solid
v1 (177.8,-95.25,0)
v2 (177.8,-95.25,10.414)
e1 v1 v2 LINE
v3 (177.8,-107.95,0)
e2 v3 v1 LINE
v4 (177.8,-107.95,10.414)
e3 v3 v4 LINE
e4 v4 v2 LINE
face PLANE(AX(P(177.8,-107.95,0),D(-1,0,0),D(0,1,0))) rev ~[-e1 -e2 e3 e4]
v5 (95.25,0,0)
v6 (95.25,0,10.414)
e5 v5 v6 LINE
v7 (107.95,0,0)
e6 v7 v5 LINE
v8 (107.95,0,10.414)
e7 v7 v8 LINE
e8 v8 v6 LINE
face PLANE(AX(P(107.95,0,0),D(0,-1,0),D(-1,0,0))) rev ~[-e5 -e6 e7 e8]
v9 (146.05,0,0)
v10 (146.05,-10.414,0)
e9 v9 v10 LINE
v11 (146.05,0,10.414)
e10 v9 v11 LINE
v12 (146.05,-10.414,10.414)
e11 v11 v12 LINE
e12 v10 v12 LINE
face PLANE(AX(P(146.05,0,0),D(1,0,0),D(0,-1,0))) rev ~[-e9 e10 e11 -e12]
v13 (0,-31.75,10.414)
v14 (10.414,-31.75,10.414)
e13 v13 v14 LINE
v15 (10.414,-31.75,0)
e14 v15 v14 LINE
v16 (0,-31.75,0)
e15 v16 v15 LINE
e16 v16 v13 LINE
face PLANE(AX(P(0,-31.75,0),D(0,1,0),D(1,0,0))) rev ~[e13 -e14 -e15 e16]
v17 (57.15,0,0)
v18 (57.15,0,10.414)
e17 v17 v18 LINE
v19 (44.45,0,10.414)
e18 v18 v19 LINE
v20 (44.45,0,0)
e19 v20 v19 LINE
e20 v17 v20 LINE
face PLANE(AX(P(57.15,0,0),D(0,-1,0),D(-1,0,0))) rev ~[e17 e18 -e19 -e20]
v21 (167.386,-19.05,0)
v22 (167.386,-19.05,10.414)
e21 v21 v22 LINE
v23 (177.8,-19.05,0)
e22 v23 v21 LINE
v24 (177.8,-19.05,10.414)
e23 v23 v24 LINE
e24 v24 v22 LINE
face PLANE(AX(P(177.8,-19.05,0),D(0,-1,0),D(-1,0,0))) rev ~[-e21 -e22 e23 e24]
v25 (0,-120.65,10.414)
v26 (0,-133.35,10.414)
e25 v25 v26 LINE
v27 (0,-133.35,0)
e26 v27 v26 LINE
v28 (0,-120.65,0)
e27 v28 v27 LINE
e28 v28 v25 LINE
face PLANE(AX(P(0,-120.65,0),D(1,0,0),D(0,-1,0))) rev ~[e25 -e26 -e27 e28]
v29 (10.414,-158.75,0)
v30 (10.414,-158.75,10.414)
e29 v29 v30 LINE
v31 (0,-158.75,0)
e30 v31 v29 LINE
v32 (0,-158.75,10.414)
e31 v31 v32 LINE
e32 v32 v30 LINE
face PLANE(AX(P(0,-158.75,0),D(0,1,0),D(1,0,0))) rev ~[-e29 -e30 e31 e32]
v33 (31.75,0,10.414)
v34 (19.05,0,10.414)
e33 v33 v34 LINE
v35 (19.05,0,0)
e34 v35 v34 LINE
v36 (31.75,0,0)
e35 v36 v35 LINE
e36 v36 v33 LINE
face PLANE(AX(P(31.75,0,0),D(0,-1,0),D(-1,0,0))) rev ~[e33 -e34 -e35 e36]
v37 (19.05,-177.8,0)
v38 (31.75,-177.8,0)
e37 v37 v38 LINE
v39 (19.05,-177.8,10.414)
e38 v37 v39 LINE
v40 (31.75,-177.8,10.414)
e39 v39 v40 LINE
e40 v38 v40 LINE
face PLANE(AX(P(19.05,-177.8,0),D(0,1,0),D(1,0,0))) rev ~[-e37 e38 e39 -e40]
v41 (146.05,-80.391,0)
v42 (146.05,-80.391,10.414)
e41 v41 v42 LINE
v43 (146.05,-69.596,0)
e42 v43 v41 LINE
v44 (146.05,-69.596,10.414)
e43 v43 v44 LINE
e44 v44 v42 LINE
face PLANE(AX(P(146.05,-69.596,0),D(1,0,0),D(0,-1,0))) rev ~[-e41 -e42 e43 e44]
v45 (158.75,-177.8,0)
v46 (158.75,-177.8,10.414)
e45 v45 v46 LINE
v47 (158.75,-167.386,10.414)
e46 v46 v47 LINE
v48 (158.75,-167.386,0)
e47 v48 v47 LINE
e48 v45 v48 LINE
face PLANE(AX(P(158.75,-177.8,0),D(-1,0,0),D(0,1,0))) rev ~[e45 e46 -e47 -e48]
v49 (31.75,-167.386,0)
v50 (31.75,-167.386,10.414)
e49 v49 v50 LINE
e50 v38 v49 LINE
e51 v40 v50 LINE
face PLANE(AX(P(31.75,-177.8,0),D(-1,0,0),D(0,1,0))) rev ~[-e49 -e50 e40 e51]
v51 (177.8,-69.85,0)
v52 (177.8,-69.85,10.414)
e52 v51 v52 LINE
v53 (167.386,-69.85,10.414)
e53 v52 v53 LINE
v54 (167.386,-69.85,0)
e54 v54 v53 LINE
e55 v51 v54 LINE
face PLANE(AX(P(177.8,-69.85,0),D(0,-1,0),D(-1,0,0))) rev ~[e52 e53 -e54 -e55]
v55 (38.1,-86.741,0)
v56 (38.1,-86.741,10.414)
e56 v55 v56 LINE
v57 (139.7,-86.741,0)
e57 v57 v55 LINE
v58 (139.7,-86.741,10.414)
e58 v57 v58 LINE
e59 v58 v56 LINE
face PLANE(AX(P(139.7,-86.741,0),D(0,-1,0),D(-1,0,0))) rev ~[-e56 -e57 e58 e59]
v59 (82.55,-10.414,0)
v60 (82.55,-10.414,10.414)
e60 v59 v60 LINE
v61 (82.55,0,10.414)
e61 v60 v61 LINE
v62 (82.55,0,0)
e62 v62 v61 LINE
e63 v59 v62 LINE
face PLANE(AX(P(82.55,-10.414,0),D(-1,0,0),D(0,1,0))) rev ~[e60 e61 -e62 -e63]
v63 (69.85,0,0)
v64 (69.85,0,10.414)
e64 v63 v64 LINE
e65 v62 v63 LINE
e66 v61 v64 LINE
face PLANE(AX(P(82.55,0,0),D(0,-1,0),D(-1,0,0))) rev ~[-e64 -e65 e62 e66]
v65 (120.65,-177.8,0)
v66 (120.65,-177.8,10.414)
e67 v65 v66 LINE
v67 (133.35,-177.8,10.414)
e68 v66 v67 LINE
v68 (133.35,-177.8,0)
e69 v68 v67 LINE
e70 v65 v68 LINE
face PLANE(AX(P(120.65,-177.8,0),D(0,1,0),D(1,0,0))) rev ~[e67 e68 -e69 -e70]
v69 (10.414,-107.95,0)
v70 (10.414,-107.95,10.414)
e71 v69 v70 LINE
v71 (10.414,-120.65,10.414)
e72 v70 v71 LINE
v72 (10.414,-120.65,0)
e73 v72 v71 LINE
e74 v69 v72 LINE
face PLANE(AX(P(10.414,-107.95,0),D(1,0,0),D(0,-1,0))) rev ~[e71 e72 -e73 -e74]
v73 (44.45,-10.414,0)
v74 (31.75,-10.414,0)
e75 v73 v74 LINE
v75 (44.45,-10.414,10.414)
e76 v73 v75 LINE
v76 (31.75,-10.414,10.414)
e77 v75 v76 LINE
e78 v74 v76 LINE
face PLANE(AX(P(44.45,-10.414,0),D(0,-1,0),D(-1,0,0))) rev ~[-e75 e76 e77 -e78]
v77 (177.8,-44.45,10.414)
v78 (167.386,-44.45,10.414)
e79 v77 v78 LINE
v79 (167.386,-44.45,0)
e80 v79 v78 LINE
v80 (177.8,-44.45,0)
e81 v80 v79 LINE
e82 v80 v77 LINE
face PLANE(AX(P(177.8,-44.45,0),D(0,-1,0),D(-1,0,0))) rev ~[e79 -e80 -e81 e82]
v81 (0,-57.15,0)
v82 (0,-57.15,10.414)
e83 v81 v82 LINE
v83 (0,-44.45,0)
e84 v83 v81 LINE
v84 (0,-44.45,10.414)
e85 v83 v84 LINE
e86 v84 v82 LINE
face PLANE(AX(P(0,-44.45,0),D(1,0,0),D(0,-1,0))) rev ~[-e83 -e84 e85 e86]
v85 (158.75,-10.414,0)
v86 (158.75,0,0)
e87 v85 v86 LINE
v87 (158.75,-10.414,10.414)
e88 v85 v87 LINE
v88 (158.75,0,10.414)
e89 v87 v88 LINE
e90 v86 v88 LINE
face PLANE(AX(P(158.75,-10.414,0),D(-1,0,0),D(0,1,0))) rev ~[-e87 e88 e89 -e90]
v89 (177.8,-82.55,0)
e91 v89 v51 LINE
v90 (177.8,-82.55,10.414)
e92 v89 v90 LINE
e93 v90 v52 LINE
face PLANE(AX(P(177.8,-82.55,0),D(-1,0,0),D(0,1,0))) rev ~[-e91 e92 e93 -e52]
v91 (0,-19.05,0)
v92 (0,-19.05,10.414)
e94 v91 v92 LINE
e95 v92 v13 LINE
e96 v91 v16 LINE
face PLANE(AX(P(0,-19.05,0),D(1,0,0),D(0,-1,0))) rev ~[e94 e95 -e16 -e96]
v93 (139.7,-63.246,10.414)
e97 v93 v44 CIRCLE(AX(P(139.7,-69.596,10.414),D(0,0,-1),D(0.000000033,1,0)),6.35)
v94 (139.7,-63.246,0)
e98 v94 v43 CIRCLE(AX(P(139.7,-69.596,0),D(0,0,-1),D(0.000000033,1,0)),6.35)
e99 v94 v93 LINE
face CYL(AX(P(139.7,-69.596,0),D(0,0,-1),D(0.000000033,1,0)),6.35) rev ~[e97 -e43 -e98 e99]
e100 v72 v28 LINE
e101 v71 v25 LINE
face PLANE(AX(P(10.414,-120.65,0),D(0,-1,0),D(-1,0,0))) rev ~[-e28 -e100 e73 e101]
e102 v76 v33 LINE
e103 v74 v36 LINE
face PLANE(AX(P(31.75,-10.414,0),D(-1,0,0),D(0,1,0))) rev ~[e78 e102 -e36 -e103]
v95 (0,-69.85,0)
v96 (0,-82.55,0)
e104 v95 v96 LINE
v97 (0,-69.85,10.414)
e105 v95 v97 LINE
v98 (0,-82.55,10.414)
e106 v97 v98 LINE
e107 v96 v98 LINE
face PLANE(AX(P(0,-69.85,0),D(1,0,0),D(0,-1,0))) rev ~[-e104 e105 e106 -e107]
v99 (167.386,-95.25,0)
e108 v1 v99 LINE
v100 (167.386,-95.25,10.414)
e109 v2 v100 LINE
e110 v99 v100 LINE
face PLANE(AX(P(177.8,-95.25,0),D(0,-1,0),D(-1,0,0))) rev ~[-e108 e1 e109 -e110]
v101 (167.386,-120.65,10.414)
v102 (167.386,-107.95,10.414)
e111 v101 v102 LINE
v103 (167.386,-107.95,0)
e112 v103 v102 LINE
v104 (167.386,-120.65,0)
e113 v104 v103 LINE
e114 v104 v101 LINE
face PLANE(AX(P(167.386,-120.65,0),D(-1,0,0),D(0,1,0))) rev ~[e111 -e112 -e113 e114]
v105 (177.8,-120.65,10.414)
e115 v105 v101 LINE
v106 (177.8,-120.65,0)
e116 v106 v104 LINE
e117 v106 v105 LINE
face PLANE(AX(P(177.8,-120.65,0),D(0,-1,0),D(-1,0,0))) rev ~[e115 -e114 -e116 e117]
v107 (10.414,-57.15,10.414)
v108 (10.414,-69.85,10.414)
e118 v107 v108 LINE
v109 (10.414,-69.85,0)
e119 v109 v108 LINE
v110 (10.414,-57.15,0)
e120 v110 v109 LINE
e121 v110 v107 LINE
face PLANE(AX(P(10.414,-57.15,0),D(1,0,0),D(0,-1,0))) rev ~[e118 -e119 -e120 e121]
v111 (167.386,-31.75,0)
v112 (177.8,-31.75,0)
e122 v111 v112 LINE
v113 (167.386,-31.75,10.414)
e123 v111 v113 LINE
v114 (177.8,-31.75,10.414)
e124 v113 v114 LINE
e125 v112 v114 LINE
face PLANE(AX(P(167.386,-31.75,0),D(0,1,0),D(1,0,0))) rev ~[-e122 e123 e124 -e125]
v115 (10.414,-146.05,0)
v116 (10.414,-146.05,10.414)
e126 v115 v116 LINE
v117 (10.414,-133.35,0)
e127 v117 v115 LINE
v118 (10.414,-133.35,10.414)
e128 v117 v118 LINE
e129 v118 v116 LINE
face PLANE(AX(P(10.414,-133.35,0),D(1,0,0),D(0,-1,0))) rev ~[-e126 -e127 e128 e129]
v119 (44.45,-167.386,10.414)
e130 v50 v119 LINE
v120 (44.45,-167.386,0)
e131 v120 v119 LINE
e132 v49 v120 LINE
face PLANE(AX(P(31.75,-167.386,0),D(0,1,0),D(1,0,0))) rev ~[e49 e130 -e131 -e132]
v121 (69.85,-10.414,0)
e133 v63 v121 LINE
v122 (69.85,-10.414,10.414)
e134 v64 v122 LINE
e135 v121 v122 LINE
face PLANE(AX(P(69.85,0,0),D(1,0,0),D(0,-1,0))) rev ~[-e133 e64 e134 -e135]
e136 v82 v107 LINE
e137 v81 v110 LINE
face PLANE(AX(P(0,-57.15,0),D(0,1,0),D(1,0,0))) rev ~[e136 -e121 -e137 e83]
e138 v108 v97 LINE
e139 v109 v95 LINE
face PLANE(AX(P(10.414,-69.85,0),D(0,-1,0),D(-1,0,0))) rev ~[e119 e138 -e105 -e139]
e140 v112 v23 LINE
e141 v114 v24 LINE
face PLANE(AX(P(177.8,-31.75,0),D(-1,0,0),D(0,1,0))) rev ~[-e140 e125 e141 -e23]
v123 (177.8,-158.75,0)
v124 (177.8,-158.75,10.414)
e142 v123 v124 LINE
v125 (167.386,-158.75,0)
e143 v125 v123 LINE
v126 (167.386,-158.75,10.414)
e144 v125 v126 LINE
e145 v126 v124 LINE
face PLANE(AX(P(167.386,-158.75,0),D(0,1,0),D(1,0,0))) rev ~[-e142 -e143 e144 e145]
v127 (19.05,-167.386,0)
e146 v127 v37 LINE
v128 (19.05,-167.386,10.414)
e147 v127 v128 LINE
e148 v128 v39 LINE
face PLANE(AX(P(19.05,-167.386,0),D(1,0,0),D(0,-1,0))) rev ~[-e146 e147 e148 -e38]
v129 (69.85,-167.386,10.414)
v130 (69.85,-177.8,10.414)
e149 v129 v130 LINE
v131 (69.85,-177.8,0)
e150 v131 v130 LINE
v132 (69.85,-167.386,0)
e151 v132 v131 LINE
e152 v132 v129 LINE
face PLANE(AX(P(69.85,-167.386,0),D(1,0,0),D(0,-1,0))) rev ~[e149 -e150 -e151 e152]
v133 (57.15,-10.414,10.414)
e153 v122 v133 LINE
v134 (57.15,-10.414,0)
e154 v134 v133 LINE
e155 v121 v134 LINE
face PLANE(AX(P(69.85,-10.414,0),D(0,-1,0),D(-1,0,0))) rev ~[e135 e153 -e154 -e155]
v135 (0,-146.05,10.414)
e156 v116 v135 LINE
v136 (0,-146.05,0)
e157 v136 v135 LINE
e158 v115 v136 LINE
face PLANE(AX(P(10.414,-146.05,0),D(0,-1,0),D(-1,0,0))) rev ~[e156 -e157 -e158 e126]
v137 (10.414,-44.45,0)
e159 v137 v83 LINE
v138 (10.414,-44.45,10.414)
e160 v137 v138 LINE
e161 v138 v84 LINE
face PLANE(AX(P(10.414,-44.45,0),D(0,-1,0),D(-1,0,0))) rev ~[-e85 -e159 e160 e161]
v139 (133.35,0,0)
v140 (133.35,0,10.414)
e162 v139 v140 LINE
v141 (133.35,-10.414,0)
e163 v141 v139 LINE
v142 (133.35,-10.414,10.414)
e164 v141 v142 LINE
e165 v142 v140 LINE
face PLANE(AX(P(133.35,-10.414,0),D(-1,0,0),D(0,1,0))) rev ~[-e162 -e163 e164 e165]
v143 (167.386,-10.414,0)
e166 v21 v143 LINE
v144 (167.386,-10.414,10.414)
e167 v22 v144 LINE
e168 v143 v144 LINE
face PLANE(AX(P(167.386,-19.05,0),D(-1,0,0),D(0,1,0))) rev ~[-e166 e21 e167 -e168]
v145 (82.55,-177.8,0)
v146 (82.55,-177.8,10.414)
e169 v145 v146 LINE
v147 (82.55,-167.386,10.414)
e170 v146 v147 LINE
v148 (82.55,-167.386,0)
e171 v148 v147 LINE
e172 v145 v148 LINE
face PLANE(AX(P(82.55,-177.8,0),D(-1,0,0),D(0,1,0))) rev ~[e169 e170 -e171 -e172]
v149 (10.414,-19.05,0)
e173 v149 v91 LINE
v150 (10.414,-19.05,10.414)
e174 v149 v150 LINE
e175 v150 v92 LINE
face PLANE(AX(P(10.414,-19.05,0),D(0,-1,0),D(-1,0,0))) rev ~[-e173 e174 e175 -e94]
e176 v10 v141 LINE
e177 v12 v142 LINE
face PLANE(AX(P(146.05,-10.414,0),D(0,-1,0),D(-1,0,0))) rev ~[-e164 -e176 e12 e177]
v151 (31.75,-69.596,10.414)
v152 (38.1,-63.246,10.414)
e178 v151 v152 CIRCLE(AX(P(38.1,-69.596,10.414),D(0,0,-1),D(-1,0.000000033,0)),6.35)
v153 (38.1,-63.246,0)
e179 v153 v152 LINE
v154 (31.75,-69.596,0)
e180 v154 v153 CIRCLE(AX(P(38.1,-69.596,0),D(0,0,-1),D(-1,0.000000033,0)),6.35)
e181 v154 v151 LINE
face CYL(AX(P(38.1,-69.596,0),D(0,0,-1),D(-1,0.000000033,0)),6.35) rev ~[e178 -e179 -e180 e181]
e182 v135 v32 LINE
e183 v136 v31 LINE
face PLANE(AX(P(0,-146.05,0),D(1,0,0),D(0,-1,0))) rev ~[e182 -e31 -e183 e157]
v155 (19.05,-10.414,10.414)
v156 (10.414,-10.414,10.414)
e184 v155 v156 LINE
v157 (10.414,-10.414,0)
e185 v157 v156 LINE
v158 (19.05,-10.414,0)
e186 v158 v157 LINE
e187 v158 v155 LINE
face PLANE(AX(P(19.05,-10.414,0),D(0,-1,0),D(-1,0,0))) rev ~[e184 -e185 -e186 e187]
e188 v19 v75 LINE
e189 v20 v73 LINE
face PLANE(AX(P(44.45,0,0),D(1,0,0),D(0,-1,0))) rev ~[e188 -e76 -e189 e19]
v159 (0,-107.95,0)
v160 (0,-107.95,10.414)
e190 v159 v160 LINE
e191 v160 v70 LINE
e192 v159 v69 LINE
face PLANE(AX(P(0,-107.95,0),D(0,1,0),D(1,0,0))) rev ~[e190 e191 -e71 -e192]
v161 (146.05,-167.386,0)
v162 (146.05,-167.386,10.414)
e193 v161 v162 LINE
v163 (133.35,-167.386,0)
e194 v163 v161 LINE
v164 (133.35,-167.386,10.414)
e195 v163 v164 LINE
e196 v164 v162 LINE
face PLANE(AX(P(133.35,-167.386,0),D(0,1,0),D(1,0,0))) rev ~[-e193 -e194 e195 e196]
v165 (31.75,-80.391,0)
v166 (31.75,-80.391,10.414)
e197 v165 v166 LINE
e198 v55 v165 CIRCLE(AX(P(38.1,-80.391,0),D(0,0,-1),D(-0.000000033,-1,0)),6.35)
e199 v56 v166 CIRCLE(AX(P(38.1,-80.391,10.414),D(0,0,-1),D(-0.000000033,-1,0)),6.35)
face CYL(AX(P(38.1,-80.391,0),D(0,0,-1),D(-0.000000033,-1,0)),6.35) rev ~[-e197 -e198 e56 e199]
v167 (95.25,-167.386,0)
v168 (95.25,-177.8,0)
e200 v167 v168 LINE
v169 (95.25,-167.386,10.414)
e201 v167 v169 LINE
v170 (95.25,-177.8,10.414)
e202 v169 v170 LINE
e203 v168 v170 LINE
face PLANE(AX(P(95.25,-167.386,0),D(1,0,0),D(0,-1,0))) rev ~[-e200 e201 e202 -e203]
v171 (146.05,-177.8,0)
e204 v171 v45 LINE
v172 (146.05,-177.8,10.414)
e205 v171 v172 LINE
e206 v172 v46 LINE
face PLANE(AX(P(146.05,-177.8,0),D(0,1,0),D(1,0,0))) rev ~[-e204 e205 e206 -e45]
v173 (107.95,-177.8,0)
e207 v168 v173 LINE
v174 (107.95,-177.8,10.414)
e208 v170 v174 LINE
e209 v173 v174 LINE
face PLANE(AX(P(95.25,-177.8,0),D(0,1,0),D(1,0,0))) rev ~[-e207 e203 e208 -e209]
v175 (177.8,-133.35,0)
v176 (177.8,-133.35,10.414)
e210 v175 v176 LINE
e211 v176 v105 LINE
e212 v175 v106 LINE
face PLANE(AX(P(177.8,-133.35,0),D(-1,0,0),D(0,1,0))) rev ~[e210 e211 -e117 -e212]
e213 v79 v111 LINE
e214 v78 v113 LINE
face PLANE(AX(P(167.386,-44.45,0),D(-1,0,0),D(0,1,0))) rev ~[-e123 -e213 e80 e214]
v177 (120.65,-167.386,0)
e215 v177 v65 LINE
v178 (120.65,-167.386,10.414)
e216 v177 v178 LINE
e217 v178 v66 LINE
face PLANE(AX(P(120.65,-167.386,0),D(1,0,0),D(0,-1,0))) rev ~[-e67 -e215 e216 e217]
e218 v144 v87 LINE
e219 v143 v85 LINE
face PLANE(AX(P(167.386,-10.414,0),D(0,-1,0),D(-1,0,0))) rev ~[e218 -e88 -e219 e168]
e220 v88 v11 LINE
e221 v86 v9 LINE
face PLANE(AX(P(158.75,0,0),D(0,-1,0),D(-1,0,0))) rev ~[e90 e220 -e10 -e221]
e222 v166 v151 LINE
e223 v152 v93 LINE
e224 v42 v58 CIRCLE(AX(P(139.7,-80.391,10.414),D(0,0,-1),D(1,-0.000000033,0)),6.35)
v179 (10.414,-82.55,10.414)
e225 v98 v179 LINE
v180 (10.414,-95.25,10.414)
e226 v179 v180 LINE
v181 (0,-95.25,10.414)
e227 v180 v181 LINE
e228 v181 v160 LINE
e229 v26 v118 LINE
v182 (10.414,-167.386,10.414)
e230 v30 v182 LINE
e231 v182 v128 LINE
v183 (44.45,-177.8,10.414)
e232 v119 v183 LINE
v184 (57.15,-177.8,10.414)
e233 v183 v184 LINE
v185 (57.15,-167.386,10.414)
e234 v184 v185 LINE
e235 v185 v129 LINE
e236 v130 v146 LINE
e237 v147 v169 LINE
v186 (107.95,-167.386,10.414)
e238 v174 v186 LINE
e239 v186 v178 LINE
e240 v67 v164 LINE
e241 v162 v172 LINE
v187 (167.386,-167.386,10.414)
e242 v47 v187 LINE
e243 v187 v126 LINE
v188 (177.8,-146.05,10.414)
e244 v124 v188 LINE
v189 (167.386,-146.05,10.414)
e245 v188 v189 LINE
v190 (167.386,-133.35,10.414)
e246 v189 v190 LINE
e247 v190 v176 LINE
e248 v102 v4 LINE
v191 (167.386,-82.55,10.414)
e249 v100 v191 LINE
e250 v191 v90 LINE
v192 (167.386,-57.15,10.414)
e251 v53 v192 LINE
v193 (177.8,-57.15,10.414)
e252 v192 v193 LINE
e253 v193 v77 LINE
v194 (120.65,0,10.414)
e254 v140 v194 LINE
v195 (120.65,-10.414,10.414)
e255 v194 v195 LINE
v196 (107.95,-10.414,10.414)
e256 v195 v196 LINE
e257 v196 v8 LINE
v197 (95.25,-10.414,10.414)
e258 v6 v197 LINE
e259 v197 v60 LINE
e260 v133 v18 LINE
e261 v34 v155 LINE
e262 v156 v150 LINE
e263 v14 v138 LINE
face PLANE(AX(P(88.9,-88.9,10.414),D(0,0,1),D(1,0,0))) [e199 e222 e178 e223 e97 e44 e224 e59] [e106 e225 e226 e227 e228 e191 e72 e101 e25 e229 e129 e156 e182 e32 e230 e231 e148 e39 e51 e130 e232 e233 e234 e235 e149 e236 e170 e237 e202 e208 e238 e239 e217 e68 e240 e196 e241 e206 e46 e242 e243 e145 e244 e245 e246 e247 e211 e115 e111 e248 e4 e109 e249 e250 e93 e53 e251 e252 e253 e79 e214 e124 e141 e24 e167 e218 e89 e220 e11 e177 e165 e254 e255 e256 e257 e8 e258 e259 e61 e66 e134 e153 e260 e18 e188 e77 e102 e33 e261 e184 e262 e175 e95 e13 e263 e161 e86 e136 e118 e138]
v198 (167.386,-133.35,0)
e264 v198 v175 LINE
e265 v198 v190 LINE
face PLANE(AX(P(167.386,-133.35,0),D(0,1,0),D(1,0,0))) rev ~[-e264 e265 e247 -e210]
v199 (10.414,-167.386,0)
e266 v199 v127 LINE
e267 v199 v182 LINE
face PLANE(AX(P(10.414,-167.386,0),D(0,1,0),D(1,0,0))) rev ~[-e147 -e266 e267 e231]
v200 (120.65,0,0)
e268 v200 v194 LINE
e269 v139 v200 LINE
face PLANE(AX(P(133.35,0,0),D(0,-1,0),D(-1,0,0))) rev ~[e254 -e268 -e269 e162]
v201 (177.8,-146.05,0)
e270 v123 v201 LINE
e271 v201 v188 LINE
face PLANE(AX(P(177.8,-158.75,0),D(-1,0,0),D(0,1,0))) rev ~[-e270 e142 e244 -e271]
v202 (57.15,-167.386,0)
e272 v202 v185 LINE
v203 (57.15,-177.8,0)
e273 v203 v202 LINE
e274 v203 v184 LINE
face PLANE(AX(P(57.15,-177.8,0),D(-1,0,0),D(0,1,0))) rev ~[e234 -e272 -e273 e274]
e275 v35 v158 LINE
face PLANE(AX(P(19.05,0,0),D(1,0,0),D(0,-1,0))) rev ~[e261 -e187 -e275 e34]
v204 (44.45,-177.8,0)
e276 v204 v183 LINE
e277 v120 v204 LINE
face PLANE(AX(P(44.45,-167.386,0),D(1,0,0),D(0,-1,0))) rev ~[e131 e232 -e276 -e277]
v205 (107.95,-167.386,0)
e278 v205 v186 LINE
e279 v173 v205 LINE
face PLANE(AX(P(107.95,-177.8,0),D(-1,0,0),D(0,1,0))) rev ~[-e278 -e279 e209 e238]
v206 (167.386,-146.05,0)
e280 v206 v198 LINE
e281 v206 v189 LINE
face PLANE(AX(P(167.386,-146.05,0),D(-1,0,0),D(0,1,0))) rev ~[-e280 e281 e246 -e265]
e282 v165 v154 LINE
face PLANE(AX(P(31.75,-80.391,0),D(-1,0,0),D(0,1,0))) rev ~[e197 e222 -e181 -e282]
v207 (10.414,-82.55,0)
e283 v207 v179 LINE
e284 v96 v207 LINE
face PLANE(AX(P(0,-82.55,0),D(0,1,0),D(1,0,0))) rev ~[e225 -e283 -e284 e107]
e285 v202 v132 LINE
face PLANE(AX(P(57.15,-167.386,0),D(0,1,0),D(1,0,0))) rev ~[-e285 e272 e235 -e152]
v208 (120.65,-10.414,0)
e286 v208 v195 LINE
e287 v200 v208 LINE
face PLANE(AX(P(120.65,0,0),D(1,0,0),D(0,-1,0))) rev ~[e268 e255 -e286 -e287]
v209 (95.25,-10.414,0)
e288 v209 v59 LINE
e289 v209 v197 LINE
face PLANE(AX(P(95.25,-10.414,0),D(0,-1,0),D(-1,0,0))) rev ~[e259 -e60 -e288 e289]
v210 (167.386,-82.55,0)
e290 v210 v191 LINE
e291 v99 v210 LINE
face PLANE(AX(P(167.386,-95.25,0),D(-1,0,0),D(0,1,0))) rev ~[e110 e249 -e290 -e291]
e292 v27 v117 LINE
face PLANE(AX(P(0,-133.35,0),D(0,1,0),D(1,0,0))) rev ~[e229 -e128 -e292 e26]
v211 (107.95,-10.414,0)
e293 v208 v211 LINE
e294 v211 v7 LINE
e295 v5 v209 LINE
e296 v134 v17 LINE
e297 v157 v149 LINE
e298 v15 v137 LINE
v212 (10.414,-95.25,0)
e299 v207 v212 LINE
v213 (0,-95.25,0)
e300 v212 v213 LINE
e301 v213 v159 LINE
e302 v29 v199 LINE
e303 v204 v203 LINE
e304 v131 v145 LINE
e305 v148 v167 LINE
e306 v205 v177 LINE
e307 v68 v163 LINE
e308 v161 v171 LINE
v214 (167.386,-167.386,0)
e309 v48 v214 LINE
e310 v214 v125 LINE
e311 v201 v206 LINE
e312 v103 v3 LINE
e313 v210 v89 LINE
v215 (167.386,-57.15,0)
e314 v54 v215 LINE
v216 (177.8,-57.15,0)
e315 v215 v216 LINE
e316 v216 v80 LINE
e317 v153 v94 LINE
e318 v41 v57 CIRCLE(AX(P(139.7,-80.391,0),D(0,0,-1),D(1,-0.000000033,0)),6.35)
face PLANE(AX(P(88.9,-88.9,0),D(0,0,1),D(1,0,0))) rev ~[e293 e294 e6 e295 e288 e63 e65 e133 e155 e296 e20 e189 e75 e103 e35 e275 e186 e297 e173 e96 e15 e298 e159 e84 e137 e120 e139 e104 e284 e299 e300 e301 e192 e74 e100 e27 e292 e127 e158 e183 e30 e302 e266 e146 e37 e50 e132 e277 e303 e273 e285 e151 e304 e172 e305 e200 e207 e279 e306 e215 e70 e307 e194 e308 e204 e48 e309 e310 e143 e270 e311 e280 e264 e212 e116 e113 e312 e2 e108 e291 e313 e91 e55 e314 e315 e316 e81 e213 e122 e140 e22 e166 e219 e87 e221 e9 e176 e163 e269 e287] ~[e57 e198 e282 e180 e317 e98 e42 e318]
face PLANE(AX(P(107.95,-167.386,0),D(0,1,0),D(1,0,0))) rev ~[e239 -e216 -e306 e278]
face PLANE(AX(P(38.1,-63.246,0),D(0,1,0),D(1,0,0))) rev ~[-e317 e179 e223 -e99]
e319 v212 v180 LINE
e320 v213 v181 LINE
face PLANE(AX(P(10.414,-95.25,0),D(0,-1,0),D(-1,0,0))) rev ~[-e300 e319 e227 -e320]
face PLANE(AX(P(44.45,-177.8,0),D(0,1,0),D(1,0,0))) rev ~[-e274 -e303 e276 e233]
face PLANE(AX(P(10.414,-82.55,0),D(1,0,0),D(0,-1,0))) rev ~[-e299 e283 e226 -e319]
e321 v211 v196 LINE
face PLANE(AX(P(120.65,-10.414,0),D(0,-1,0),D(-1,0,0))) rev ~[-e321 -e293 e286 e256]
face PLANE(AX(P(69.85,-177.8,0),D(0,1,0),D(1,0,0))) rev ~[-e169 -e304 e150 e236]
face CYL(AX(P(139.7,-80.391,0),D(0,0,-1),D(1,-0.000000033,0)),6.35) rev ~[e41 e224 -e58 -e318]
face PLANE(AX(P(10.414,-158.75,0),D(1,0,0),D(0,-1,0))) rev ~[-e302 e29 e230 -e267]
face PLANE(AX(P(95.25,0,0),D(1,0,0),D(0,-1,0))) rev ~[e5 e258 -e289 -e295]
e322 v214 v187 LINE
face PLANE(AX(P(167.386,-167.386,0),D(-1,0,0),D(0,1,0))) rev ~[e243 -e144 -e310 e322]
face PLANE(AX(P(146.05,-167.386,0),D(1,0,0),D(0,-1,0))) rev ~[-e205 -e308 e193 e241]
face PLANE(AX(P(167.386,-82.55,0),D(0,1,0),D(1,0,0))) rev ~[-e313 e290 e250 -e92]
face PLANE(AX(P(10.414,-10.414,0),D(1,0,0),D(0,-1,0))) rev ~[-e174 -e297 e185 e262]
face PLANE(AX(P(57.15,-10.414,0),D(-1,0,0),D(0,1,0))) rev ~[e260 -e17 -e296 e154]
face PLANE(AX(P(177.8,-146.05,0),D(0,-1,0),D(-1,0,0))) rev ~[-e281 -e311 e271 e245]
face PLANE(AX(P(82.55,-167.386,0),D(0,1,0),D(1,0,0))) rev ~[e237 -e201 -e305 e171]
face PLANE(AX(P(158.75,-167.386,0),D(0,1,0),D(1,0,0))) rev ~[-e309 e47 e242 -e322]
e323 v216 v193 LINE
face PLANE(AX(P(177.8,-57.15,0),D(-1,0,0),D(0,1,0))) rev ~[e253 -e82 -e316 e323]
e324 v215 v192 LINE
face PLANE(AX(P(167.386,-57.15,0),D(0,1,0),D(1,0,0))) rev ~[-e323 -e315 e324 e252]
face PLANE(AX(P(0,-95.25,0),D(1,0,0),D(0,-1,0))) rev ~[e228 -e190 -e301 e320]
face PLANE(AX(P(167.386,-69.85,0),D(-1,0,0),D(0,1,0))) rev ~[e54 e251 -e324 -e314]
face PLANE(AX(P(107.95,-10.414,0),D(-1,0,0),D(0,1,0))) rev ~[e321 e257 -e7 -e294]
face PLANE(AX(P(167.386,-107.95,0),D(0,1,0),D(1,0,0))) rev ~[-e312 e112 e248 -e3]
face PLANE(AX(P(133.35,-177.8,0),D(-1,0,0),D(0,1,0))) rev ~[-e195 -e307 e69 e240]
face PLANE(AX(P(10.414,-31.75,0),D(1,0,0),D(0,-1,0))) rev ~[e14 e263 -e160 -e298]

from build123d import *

# Parameters (mm, degrees)
F1_DEPTH = 10.414


with BuildPart() as f1:
    # F0 (on Top) → F1 (new body)
    with BuildSketch(Plane.XY):
        Polygon((31.75, 0), (19.05, 0), (19.05, -10.414), (10.414, -10.414), (10.414, -19.05), (0, -19.05), (0, -31.75), (10.414, -31.75), (10.414, -44.45), (0, -44.45), (0, -57.15), (10.414, -57.15), (10.414, -69.85), (0, -69.85), (0, -82.55), (10.414, -82.55), (10.414, -95.25), (0, -95.25), (0, -107.95), (10.414, -107.95), (10.414, -120.65), (0, -120.65), (0, -133.35), (10.414, -133.35), (10.414, -146.05), (0, -146.05), (0, -158.75), (10.414, -158.75), (10.414, -167.386), (19.05, -167.386), (19.05, -177.8), (31.75, -177.8), (31.75, -167.386), (44.45, -167.386), (44.45, -177.8), (57.15, -177.8), (57.15, -167.386), (69.85, -167.386), (69.85, -177.8), (82.55, -177.8), (82.55, -167.386), (95.25, -167.386), (95.25, -177.8), (107.95, -177.8), (107.95, -167.386), (120.65, -167.386), (120.65, -177.8), (133.35, -177.8), (133.35, -167.386), (146.05, -167.386), (146.05, -177.8), (158.75, -177.8), (158.75, -167.386), (167.386, -167.386), (167.386, -158.75), (177.8, -158.75), (177.8, -146.05), (167.386, -146.05), (167.386, -133.35), (177.8, -133.35), (177.8, -120.65), (167.386, -120.65), (167.386, -107.95), (177.8, -107.95), (177.8, -95.25), (167.386, -95.25), (167.386, -82.55), (177.8, -82.55), (177.8, -69.85), (167.386, -69.85), (167.386, -57.15), (177.8, -57.15), (177.8, -44.45), (167.386, -44.45), (167.386, -31.75), (177.8, -31.75), (177.8, -19.05), (167.386, -19.05), (167.386, -10.414), (158.75, -10.414), (158.75, 0), (146.05, 0), (146.05, -10.414), (133.35, -10.414), (133.35, 0), (120.65, 0), (120.65, -10.414), (107.95, -10.414), (107.95, 0), (95.25, 0), (95.25, -10.414), (82.55, -10.414), (82.55, 0), (69.85, 0), (69.85, -10.414), (57.15, -10.414), (57.15, 0), (44.45, 0), (44.45, -10.414), (31.75, -10.414), align=None)
        with BuildLine():
            ThreePointArc((31.75, -69.596), (33.609872, -65.105872), (38.1, -63.246))
            Line((38.1, -63.246), (139.7, -63.246))
            ThreePointArc((139.7, -63.246), (144.190128, -65.105872), (146.05, -69.596))
            Line((146.05, -69.596), (146.05, -80.391))
            ThreePointArc((146.05, -80.391), (144.190128, -84.881128), (139.7, -86.741))
            Line((139.7, -86.741), (38.1, -86.741))
            ThreePointArc((38.1, -86.741), (33.609872, -84.881128), (31.75, -80.391))
            Line((31.75, -80.391), (31.75, -69.596))
        make_face(mode=Mode.SUBTRACT)
    extrude(amount=F1_DEPTH)


solid = f1.part
